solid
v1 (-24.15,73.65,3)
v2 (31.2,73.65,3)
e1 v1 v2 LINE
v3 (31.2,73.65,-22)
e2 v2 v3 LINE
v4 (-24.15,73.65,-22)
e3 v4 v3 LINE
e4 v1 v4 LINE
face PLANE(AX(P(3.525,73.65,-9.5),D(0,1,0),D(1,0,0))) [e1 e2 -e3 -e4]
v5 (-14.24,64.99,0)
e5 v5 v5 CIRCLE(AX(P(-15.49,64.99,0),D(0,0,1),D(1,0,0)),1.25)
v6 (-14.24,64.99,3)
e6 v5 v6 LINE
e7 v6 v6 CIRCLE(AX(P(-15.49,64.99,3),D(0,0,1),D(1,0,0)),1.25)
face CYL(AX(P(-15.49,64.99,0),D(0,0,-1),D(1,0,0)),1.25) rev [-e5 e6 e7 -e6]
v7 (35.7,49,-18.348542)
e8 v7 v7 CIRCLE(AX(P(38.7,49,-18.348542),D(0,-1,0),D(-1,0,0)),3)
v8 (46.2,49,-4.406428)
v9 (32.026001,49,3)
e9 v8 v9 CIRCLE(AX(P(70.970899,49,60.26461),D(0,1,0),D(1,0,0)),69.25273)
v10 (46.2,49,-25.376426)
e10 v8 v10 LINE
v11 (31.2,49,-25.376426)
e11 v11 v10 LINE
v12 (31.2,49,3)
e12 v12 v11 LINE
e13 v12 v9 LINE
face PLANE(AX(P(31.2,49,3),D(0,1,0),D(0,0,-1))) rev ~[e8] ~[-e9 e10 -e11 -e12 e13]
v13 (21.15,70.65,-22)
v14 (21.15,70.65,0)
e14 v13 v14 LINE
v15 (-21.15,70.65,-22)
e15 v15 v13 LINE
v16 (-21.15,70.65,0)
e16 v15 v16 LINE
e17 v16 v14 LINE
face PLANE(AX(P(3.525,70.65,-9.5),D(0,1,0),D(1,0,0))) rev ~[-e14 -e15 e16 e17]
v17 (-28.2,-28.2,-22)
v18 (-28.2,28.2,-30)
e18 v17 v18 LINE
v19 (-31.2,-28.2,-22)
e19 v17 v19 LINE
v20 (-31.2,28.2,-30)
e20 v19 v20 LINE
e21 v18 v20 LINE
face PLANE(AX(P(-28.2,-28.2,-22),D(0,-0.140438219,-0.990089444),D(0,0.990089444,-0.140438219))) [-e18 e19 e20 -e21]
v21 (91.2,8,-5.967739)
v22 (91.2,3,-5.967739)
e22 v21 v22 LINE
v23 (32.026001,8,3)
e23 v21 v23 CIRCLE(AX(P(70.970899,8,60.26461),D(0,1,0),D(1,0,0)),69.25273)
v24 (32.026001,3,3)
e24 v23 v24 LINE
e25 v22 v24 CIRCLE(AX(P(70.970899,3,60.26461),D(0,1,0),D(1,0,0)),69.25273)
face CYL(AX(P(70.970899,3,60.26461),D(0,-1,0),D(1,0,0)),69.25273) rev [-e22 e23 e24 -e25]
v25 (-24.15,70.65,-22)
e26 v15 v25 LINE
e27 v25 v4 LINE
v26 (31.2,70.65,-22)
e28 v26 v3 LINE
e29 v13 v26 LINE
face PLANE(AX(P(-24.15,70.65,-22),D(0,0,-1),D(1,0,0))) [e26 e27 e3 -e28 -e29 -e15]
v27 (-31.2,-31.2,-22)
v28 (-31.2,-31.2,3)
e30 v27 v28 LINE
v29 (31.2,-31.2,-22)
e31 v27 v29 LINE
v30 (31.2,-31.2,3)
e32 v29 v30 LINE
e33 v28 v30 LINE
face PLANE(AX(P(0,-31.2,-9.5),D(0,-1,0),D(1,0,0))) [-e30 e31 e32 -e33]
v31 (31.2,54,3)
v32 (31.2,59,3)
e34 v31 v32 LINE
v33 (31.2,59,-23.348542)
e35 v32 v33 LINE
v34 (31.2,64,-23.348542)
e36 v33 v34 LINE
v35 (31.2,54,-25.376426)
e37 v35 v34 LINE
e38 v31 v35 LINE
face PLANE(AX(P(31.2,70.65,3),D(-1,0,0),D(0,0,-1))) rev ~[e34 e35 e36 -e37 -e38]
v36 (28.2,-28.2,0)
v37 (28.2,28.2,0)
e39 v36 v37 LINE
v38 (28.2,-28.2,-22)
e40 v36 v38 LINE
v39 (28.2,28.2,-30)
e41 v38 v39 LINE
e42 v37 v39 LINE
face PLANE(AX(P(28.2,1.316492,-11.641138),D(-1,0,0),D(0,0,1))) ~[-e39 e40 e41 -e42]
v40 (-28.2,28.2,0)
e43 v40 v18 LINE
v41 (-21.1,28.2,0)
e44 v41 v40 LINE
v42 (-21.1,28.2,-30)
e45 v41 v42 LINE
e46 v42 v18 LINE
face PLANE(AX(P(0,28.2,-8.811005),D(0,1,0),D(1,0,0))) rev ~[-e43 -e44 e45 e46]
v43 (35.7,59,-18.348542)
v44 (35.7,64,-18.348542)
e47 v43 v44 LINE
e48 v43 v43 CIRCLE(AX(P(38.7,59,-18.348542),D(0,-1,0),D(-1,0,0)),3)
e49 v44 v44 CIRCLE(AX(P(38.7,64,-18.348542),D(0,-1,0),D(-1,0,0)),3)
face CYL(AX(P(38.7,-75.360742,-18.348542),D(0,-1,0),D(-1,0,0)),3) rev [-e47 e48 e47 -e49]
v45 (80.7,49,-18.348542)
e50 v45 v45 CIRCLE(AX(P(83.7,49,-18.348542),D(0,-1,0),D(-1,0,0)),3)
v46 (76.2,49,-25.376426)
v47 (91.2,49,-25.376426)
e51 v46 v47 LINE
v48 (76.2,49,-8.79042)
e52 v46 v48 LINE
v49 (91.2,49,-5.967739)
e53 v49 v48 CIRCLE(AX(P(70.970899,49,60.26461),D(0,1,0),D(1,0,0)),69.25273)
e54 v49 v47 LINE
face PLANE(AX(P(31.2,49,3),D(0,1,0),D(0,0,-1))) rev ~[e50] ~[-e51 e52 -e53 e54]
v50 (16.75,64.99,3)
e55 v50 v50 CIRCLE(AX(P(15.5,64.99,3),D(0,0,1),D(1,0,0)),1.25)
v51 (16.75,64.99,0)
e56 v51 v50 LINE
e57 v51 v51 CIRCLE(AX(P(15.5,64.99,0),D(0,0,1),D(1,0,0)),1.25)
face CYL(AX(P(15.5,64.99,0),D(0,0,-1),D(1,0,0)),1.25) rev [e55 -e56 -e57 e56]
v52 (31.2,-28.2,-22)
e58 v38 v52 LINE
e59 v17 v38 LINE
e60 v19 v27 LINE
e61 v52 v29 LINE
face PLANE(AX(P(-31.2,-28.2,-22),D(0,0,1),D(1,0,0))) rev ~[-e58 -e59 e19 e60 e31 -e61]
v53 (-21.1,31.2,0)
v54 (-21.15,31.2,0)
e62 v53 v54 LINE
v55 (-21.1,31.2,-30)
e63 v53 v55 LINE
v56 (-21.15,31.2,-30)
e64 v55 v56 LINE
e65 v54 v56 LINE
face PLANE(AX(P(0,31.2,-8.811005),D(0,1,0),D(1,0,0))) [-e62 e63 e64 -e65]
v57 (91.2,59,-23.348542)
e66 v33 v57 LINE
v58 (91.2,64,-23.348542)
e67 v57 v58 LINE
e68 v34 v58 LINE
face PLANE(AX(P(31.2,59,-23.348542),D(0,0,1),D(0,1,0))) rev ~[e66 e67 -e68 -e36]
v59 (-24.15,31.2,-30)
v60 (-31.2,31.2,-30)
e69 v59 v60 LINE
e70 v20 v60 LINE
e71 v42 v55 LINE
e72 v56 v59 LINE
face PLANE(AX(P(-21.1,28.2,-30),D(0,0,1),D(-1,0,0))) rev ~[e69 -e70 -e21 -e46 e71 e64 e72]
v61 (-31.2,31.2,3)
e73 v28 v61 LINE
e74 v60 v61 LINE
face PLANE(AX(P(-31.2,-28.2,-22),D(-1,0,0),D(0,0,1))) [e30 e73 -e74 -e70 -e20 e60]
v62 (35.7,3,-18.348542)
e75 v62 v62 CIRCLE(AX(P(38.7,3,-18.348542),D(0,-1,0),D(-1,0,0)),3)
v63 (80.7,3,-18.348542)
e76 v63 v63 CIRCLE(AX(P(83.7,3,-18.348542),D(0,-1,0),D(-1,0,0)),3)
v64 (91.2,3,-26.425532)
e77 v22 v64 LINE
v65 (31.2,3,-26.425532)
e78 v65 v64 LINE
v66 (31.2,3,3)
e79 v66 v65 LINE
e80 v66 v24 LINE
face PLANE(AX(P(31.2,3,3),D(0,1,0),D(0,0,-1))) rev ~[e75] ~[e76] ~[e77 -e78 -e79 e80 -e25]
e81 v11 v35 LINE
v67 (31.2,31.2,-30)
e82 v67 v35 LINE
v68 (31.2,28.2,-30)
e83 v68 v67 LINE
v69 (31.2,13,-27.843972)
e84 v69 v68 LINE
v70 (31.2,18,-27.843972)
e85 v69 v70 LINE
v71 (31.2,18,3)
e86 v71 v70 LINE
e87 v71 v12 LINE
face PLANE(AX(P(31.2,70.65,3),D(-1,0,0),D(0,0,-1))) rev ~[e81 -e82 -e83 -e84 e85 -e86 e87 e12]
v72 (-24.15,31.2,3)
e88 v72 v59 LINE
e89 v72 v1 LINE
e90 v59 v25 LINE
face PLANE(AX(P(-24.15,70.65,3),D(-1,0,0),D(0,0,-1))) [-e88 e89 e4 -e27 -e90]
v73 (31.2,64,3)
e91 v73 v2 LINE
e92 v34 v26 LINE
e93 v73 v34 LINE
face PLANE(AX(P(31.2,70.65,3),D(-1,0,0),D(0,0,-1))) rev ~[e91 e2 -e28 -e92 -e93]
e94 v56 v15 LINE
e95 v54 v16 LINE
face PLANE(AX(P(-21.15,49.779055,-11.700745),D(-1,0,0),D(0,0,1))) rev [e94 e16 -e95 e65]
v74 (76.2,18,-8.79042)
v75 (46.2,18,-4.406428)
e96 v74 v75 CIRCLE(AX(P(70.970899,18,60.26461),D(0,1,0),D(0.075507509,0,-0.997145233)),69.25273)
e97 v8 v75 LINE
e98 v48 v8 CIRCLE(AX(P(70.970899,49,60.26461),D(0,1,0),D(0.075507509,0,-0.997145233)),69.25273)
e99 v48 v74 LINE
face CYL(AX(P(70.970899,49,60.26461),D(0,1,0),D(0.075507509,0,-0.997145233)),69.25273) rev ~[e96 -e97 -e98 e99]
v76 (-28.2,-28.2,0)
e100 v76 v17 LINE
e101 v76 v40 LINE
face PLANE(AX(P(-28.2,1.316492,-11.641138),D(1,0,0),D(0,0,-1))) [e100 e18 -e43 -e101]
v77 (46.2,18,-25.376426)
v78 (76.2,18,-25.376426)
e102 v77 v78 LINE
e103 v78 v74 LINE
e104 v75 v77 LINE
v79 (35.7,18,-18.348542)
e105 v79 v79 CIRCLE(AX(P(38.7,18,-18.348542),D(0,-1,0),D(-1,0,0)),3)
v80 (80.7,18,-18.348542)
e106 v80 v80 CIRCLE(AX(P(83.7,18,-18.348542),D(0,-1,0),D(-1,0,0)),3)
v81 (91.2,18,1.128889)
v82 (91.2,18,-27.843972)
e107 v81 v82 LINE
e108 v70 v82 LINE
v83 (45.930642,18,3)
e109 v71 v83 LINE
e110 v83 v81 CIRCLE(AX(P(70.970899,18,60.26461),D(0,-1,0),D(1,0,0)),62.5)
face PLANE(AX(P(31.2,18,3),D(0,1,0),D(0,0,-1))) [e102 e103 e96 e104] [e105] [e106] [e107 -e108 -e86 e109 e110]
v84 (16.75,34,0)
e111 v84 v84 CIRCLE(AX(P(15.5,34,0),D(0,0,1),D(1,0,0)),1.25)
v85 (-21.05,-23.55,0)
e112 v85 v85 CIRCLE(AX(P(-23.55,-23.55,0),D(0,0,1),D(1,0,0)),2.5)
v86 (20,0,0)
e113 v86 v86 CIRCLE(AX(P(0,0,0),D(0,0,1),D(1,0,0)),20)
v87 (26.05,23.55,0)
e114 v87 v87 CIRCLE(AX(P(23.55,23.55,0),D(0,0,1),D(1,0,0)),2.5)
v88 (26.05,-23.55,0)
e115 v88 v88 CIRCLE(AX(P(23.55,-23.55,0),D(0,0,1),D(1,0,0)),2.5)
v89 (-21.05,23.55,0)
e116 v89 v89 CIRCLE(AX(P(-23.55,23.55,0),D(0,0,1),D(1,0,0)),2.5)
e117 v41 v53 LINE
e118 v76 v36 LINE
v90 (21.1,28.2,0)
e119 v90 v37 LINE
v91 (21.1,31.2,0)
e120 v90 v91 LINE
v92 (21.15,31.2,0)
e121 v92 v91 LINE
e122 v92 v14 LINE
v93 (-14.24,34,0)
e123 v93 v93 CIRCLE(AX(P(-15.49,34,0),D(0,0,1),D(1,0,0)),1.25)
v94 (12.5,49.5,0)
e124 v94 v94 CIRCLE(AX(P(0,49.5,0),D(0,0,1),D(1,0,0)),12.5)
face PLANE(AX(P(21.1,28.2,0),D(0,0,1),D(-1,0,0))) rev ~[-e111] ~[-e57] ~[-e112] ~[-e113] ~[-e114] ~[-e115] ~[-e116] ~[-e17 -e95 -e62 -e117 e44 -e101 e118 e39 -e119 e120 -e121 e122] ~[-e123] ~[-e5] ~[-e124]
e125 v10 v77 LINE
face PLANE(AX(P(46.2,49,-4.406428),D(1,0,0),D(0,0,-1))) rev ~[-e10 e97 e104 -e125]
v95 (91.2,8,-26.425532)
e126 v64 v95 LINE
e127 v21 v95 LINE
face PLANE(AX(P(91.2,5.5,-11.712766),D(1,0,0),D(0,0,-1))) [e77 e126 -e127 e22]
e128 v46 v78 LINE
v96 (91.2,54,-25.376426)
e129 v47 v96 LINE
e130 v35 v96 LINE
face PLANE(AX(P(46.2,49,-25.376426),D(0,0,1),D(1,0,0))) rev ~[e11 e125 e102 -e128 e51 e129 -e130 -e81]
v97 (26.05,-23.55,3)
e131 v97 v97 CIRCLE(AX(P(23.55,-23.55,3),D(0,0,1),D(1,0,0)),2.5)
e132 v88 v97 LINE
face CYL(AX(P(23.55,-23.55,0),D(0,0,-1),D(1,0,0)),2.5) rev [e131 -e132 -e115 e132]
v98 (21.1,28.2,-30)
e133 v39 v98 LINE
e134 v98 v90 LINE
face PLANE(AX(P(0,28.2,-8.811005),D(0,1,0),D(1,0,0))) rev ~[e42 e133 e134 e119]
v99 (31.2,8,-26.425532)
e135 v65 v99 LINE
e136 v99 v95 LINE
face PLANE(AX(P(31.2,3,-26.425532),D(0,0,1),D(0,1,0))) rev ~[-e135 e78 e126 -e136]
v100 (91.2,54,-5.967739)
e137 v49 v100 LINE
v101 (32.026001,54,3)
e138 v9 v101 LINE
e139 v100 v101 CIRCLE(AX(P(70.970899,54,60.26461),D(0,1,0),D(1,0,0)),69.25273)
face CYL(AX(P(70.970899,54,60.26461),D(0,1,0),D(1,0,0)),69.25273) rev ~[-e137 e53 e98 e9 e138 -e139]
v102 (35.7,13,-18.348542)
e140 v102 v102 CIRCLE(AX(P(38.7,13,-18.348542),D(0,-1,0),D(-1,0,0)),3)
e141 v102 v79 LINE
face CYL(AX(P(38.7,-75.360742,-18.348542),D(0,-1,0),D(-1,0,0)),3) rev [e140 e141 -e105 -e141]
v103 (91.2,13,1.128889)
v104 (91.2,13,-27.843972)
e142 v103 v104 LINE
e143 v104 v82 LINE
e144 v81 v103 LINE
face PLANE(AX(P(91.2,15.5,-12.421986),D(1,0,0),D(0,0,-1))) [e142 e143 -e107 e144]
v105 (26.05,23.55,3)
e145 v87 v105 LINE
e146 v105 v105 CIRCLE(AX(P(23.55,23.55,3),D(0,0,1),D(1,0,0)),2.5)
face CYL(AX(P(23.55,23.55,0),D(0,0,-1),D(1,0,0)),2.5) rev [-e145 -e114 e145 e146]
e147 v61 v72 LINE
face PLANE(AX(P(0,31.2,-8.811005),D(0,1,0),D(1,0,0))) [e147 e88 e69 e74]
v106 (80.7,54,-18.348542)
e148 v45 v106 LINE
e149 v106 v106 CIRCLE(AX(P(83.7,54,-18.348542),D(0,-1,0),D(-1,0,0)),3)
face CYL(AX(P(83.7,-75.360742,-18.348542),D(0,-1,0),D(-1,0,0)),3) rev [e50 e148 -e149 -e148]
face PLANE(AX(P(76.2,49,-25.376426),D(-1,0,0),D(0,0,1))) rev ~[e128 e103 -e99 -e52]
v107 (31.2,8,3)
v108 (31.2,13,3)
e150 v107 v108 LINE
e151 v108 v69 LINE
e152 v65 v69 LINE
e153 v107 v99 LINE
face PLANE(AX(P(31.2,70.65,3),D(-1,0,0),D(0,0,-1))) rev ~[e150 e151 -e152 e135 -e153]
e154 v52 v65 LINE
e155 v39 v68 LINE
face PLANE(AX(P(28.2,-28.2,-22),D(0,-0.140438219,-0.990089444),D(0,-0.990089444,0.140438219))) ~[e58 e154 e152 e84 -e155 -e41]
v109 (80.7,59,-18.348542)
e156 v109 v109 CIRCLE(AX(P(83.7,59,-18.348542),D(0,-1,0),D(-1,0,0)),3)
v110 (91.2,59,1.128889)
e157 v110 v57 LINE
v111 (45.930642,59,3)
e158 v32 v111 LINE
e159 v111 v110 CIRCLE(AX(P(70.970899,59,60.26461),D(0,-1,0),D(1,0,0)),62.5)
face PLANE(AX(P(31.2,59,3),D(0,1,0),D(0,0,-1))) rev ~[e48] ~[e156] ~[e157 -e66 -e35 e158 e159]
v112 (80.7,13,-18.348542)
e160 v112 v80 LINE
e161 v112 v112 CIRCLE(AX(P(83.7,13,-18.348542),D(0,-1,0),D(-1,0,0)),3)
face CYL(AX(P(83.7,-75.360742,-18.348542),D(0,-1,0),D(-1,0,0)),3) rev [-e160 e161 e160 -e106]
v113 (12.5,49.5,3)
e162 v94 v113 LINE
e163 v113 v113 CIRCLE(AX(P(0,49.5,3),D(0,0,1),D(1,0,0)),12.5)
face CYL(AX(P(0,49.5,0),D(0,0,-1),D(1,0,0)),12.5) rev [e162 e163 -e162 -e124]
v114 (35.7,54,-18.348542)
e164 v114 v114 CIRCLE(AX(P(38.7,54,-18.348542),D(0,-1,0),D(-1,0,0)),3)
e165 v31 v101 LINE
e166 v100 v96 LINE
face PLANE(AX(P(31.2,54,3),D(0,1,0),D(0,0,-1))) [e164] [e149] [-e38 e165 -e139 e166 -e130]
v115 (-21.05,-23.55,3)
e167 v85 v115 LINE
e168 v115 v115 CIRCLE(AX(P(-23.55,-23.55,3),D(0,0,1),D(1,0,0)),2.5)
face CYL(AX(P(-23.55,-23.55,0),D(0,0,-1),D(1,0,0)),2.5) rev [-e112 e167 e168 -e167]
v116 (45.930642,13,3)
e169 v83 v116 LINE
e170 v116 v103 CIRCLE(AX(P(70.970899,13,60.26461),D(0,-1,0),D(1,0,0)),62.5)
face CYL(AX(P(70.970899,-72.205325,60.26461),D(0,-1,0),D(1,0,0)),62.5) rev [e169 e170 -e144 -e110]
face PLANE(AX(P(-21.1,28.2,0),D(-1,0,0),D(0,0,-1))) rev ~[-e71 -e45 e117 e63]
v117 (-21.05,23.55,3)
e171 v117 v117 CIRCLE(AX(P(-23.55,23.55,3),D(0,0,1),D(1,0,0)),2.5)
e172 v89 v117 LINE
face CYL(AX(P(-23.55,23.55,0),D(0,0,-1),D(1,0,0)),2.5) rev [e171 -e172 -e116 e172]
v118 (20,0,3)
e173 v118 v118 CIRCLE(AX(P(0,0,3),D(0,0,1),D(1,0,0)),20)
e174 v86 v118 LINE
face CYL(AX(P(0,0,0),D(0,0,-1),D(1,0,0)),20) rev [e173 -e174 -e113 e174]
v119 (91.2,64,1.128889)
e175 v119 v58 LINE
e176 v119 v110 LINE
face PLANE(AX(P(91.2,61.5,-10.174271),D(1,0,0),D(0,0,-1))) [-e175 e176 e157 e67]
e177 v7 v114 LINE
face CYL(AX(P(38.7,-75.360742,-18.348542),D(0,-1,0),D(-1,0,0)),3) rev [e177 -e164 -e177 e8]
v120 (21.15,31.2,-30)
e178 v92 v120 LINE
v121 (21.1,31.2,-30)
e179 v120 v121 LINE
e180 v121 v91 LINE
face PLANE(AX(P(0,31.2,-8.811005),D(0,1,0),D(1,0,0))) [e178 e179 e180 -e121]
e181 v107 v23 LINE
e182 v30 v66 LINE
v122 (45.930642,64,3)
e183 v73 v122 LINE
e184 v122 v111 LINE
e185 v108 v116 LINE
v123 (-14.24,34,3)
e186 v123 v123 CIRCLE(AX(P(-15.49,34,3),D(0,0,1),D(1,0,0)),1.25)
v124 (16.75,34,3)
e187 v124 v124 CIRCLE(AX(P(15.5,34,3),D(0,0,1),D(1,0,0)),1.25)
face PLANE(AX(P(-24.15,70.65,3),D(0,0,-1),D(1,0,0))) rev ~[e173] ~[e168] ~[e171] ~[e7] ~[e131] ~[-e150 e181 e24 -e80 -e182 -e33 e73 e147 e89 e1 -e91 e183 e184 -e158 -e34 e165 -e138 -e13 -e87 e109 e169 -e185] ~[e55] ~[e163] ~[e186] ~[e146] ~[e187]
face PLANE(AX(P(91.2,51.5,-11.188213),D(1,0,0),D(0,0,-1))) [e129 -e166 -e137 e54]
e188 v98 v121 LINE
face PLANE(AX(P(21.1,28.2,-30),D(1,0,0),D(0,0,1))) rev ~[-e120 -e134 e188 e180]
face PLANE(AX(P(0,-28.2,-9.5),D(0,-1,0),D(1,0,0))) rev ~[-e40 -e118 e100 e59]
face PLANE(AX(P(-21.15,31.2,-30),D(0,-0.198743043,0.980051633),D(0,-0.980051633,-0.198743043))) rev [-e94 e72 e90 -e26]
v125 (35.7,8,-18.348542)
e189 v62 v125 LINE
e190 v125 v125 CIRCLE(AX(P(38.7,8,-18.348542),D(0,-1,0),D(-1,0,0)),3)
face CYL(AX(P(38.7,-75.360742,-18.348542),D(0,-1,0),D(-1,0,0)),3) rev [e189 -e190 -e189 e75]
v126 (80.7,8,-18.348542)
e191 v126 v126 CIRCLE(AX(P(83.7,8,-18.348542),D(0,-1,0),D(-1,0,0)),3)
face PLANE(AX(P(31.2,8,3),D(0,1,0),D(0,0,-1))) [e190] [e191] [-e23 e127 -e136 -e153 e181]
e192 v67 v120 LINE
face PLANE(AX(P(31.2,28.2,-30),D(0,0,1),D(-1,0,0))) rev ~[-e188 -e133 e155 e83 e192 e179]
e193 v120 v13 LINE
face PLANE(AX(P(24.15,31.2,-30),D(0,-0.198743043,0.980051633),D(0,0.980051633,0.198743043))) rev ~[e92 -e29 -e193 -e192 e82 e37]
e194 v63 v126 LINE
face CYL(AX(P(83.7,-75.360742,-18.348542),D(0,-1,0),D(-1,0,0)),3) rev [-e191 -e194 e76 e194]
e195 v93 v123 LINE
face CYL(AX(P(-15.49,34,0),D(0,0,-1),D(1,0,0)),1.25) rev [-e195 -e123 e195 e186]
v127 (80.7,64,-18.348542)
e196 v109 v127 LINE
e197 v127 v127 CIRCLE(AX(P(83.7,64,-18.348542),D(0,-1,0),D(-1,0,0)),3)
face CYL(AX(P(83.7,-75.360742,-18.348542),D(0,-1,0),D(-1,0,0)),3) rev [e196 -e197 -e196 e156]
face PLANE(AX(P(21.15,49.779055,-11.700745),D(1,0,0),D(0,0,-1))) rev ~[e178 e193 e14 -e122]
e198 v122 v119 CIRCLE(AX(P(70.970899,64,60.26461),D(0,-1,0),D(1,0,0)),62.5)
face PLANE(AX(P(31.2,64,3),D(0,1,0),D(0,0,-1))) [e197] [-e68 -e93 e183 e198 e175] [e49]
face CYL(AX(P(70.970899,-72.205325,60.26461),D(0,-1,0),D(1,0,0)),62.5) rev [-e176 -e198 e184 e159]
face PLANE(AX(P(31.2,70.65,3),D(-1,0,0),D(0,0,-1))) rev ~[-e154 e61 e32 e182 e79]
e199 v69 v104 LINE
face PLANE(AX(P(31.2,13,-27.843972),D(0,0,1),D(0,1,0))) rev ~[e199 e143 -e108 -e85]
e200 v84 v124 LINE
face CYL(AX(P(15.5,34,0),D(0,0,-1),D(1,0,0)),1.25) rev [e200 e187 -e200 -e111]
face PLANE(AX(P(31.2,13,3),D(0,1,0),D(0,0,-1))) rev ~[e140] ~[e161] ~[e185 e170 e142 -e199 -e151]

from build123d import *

# Parameters (mm, degrees)
SKETCH1_W               = 56.4
SKETCH1_H               = 56.4
SKETCH1_R               = 2.5
SKETCH1_R_2             = 20
SKETCH1_W_2             = 42.3
SKETCH1_H_2             = 42.45
SKETCH1_R_3             = 1.25
SKETCH1_R_4             = 12.5
BOSS_EXTRUDE1_DEPTH     = 3
BOSS_EXTRUDE2_DEPTH     = 3
BOSS_EXTRUDE3_DEPTH     = 3
BOSS_EXTRUDE4_DEPTH     = 3
BOSS_EXTRUDE5_DEPTH     = 7.05
SKETCH6_W               = 62.4
SKETCH6_H               = 25
BOSS_EXTRUDE6_DEPTH     = 3
SKETCH7_W               = 55.35
SKETCH7_H               = 25
BOSS_EXTRUDE7_DEPTH     = 3
SKETCH8_W               = 26.348542459
SKETCH8_H               = 5
SKETCH8_W_2             = 28.376425856
SKETCH8_W_3             = 30.843971631
SKETCH8_W_4             = 29.425531915
BOSS_EXTRUDE8_DEPTH     = 60
SKETCH9_R               = 69.252729773
SKETCH9_R_2             = 19.252729773
CUT_EXTRUDE1_DEPTH      = 5
CUT_EXTRUDE2_START      = -51
SKETCH9_2_R             = 69.252729773
SKETCH9_2_R_2           = 19.252729773
CUT_EXTRUDE2_DEPTH      = 5
CUT_EXTRUDE3_DEPTH      = 136.205325339
CUT_EXTRUDE3_DEPTH_BACK = 136.205325339
SKETCH10_R              = 62.5
BOSS_EXTRUDE9_DEPTH     = 31
CUT_EXTRUDE4_DEPTH      = 129.360741662
CUT_EXTRUDE4_DEPTH_BACK = 129.360741662
SKETCH12_R              = 3


with BuildPart() as part:
    # Sketch1 → Boss-Extrude1 (new body)
    # profile 1 of 2: a face of its own
    with BuildSketch(Plane.XY):
        Rectangle(SKETCH1_W, SKETCH1_H)
        with Locations((-23.55, -23.55)):
            Circle(SKETCH1_R, mode=Mode.SUBTRACT)
        with Locations((-23.55, 23.55)):
            Circle(SKETCH1_R, mode=Mode.SUBTRACT)
        with Locations((23.55, 23.55)):
            Circle(SKETCH1_R, mode=Mode.SUBTRACT)
        with Locations((23.55, -23.55)):
            Circle(SKETCH1_R, mode=Mode.SUBTRACT)
        Circle(SKETCH1_R_2, mode=Mode.SUBTRACT)
    # profile 2 of 2: a face of its own
    with BuildSketch(Plane.XY):
        with Locations((0, 49.425)):
            Rectangle(SKETCH1_W_2, SKETCH1_H_2)
        with Locations((-15.49, 34)):
            Circle(SKETCH1_R_3, mode=Mode.SUBTRACT)
        with Locations((-15.49, 64.99)):
            Circle(SKETCH1_R_3, mode=Mode.SUBTRACT)
        with Locations((15.5, 64.99)):
            Circle(SKETCH1_R_3, mode=Mode.SUBTRACT)
        with Locations((15.5, 34)):
            Circle(SKETCH1_R_3, mode=Mode.SUBTRACT)
        with Locations((0, 49.5)):
            Circle(SKETCH1_R_4, mode=Mode.SUBTRACT)
    extrude(amount=BOSS_EXTRUDE1_DEPTH)

    # Sketch2 → Boss-Extrude2 (add)
    with BuildSketch(Plane.ZY.offset(28.2)):
        Polygon((-22, -28.2), (-30, 28.2), (0, 28.2), (3, 28.2), (3, -28.2), align=None)
    boss_extrude2 = extrude(amount=BOSS_EXTRUDE2_DEPTH)

    # Mirror1: Boss-Extrude2 across plane
    add(boss_extrude2.mirror(Plane(origin=(0, 0, 0), x_dir=(0, 0, 1), z_dir=(1, 0, 0))))

    # Sketch3 → Boss-Extrude3 (add)
    with BuildSketch(Plane(origin=(0, 28.2, 0), x_dir=(1, 0, 0), z_dir=(0, 1, 0))):
        Polygon((-21.1, 30), (-31.2, 30), (-31.2, -3), (31.2, -3), (31.2, 30), (21.1, 30), (21.1, 0), (-21.1, 0), align=None)
    extrude(amount=BOSS_EXTRUDE3_DEPTH)

    # Sketch4 → Boss-Extrude4 (add)
    with BuildSketch(Plane(origin=(21.15, 0, 0), x_dir=(0, 0, -1), z_dir=(1, 0, 0))):
        Polygon((30, 31.2), (22, 70.65), (-3, 70.65), (-3, 31.2), align=None)
    boss_extrude4 = extrude(amount=BOSS_EXTRUDE4_DEPTH)

    # Mirror2: Boss-Extrude4 across plane
    add(boss_extrude4.mirror(Plane(origin=(0, 0, 0), x_dir=(0, 0, 1), z_dir=(1, 0, 0))))

    # Sketch5 → Boss-Extrude5 (add)
    with BuildSketch(Plane(origin=(24.15, 0, 0), x_dir=(0, 0, -1), z_dir=(1, 0, 0))):
        Polygon((-3, 31.2), (30, 31.2), (22, 70.65), (-3, 70.65), align=None)
    extrude(amount=BOSS_EXTRUDE5_DEPTH)

    # Sketch6 → Boss-Extrude6 (add)
    with BuildSketch(Plane.XZ.offset(28.2)):
        with Locations((0, -9.5)):
            Rectangle(SKETCH6_W, SKETCH6_H)
    extrude(amount=BOSS_EXTRUDE6_DEPTH)

    # Sketch7 → Boss-Extrude7 (add)
    with BuildSketch(Plane(origin=(0, 70.65, 0), x_dir=(1, 0, 0), z_dir=(0, 1, 0))):
        with Locations((3.525, 9.5)):
            Rectangle(SKETCH7_W, SKETCH7_H)
    extrude(amount=BOSS_EXTRUDE7_DEPTH)

    # Sketch8 → Boss-Extrude8 (add)
    with BuildSketch(Plane(origin=(31.2, 0, 0), x_dir=(0, 0, -1), z_dir=(1, 0, 0))):
        with Locations((10.17427123, 61.5)):
            Rectangle(SKETCH8_W, SKETCH8_H)
        with Locations((11.188212928, 51.5)):
            Rectangle(SKETCH8_W_2, SKETCH8_H)
        with Locations((12.421985816, 15.5)):
            Rectangle(SKETCH8_W_3, SKETCH8_H)
        with Locations((11.712765958, 5.5)):
            Rectangle(SKETCH8_W_4, SKETCH8_H)
    extrude(amount=BOSS_EXTRUDE8_DEPTH)

    # Sketch9 → Cut-Extrude1 (cut)
    with BuildSketch(Plane(origin=(0, 54, 0), x_dir=(1, 0, 0), z_dir=(0, 1, 0))):
        with Locations((70.970898887, -60.264609649)):
            Circle(SKETCH9_R)
        with Locations((70.970898887, -60.264609649)):
            Circle(SKETCH9_R_2, mode=Mode.SUBTRACT)
    extrude(amount=-CUT_EXTRUDE1_DEPTH, mode=Mode.SUBTRACT)

    # Sketch9<2> → Cut-Extrude2 (cut)
    with BuildSketch(Plane(origin=(0, 54, 0), x_dir=(1, 0, 0), z_dir=(0, 1, 0)).offset(CUT_EXTRUDE2_START)):
        with Locations((70.970898887, -60.264609649)):
            Circle(SKETCH9_2_R)
        with Locations((70.970898887, -60.264609649)):
            Circle(SKETCH9_2_R_2, mode=Mode.SUBTRACT)
    extrude(amount=CUT_EXTRUDE2_DEPTH, mode=Mode.SUBTRACT)

    # Sketch10 → Cut-Extrude3 (cut, two sides: drawn at the far end of the back side and taken through both)
    with BuildSketch(Plane(origin=(0, 64, 0), x_dir=(1, 0, 0), z_dir=(0, 1, 0)).offset(-CUT_EXTRUDE3_DEPTH_BACK)):
        with Locations((70.970898887, -60.264609649)):
            Circle(SKETCH10_R)
    extrude(amount=CUT_EXTRUDE3_DEPTH + CUT_EXTRUDE3_DEPTH_BACK, mode=Mode.SUBTRACT)

    # Sketch11 → Boss-Extrude9 (add)
    with BuildSketch(Plane.XZ.offset(-49)):
        with BuildLine():
            Line((46.2, -25.376425856), (76.2, -25.376425856))
            Line((76.2, -25.376425856), (76.2, -8.790419729))
            ThreePointArc((76.2, -8.790419729), (60.957142835, -8.260314799), (46.2, -4.406428299))
            Line((46.2, -4.406428299), (46.2, -25.376425856))
        make_face()
    extrude(amount=BOSS_EXTRUDE9_DEPTH)

    # Sketch12 → Cut-Extrude4 (cut, two sides: drawn at the far end of the back side and taken through both)
    with BuildSketch(Plane(origin=(0, 54, 0), x_dir=(1, 0, 0), z_dir=(0, 1, 0)).offset(-CUT_EXTRUDE4_DEPTH_BACK)):
        with Locations(Location((83.7, 18.348542459, 0), (0, 0, 180))):
            Circle(SKETCH12_R)
        with Locations(Location((38.7, 18.348542459, 0), (0, 0, 180))):
            Circle(SKETCH12_R)
    extrude(amount=CUT_EXTRUDE4_DEPTH + CUT_EXTRUDE4_DEPTH_BACK, mode=Mode.SUBTRACT)


solid = part.part
